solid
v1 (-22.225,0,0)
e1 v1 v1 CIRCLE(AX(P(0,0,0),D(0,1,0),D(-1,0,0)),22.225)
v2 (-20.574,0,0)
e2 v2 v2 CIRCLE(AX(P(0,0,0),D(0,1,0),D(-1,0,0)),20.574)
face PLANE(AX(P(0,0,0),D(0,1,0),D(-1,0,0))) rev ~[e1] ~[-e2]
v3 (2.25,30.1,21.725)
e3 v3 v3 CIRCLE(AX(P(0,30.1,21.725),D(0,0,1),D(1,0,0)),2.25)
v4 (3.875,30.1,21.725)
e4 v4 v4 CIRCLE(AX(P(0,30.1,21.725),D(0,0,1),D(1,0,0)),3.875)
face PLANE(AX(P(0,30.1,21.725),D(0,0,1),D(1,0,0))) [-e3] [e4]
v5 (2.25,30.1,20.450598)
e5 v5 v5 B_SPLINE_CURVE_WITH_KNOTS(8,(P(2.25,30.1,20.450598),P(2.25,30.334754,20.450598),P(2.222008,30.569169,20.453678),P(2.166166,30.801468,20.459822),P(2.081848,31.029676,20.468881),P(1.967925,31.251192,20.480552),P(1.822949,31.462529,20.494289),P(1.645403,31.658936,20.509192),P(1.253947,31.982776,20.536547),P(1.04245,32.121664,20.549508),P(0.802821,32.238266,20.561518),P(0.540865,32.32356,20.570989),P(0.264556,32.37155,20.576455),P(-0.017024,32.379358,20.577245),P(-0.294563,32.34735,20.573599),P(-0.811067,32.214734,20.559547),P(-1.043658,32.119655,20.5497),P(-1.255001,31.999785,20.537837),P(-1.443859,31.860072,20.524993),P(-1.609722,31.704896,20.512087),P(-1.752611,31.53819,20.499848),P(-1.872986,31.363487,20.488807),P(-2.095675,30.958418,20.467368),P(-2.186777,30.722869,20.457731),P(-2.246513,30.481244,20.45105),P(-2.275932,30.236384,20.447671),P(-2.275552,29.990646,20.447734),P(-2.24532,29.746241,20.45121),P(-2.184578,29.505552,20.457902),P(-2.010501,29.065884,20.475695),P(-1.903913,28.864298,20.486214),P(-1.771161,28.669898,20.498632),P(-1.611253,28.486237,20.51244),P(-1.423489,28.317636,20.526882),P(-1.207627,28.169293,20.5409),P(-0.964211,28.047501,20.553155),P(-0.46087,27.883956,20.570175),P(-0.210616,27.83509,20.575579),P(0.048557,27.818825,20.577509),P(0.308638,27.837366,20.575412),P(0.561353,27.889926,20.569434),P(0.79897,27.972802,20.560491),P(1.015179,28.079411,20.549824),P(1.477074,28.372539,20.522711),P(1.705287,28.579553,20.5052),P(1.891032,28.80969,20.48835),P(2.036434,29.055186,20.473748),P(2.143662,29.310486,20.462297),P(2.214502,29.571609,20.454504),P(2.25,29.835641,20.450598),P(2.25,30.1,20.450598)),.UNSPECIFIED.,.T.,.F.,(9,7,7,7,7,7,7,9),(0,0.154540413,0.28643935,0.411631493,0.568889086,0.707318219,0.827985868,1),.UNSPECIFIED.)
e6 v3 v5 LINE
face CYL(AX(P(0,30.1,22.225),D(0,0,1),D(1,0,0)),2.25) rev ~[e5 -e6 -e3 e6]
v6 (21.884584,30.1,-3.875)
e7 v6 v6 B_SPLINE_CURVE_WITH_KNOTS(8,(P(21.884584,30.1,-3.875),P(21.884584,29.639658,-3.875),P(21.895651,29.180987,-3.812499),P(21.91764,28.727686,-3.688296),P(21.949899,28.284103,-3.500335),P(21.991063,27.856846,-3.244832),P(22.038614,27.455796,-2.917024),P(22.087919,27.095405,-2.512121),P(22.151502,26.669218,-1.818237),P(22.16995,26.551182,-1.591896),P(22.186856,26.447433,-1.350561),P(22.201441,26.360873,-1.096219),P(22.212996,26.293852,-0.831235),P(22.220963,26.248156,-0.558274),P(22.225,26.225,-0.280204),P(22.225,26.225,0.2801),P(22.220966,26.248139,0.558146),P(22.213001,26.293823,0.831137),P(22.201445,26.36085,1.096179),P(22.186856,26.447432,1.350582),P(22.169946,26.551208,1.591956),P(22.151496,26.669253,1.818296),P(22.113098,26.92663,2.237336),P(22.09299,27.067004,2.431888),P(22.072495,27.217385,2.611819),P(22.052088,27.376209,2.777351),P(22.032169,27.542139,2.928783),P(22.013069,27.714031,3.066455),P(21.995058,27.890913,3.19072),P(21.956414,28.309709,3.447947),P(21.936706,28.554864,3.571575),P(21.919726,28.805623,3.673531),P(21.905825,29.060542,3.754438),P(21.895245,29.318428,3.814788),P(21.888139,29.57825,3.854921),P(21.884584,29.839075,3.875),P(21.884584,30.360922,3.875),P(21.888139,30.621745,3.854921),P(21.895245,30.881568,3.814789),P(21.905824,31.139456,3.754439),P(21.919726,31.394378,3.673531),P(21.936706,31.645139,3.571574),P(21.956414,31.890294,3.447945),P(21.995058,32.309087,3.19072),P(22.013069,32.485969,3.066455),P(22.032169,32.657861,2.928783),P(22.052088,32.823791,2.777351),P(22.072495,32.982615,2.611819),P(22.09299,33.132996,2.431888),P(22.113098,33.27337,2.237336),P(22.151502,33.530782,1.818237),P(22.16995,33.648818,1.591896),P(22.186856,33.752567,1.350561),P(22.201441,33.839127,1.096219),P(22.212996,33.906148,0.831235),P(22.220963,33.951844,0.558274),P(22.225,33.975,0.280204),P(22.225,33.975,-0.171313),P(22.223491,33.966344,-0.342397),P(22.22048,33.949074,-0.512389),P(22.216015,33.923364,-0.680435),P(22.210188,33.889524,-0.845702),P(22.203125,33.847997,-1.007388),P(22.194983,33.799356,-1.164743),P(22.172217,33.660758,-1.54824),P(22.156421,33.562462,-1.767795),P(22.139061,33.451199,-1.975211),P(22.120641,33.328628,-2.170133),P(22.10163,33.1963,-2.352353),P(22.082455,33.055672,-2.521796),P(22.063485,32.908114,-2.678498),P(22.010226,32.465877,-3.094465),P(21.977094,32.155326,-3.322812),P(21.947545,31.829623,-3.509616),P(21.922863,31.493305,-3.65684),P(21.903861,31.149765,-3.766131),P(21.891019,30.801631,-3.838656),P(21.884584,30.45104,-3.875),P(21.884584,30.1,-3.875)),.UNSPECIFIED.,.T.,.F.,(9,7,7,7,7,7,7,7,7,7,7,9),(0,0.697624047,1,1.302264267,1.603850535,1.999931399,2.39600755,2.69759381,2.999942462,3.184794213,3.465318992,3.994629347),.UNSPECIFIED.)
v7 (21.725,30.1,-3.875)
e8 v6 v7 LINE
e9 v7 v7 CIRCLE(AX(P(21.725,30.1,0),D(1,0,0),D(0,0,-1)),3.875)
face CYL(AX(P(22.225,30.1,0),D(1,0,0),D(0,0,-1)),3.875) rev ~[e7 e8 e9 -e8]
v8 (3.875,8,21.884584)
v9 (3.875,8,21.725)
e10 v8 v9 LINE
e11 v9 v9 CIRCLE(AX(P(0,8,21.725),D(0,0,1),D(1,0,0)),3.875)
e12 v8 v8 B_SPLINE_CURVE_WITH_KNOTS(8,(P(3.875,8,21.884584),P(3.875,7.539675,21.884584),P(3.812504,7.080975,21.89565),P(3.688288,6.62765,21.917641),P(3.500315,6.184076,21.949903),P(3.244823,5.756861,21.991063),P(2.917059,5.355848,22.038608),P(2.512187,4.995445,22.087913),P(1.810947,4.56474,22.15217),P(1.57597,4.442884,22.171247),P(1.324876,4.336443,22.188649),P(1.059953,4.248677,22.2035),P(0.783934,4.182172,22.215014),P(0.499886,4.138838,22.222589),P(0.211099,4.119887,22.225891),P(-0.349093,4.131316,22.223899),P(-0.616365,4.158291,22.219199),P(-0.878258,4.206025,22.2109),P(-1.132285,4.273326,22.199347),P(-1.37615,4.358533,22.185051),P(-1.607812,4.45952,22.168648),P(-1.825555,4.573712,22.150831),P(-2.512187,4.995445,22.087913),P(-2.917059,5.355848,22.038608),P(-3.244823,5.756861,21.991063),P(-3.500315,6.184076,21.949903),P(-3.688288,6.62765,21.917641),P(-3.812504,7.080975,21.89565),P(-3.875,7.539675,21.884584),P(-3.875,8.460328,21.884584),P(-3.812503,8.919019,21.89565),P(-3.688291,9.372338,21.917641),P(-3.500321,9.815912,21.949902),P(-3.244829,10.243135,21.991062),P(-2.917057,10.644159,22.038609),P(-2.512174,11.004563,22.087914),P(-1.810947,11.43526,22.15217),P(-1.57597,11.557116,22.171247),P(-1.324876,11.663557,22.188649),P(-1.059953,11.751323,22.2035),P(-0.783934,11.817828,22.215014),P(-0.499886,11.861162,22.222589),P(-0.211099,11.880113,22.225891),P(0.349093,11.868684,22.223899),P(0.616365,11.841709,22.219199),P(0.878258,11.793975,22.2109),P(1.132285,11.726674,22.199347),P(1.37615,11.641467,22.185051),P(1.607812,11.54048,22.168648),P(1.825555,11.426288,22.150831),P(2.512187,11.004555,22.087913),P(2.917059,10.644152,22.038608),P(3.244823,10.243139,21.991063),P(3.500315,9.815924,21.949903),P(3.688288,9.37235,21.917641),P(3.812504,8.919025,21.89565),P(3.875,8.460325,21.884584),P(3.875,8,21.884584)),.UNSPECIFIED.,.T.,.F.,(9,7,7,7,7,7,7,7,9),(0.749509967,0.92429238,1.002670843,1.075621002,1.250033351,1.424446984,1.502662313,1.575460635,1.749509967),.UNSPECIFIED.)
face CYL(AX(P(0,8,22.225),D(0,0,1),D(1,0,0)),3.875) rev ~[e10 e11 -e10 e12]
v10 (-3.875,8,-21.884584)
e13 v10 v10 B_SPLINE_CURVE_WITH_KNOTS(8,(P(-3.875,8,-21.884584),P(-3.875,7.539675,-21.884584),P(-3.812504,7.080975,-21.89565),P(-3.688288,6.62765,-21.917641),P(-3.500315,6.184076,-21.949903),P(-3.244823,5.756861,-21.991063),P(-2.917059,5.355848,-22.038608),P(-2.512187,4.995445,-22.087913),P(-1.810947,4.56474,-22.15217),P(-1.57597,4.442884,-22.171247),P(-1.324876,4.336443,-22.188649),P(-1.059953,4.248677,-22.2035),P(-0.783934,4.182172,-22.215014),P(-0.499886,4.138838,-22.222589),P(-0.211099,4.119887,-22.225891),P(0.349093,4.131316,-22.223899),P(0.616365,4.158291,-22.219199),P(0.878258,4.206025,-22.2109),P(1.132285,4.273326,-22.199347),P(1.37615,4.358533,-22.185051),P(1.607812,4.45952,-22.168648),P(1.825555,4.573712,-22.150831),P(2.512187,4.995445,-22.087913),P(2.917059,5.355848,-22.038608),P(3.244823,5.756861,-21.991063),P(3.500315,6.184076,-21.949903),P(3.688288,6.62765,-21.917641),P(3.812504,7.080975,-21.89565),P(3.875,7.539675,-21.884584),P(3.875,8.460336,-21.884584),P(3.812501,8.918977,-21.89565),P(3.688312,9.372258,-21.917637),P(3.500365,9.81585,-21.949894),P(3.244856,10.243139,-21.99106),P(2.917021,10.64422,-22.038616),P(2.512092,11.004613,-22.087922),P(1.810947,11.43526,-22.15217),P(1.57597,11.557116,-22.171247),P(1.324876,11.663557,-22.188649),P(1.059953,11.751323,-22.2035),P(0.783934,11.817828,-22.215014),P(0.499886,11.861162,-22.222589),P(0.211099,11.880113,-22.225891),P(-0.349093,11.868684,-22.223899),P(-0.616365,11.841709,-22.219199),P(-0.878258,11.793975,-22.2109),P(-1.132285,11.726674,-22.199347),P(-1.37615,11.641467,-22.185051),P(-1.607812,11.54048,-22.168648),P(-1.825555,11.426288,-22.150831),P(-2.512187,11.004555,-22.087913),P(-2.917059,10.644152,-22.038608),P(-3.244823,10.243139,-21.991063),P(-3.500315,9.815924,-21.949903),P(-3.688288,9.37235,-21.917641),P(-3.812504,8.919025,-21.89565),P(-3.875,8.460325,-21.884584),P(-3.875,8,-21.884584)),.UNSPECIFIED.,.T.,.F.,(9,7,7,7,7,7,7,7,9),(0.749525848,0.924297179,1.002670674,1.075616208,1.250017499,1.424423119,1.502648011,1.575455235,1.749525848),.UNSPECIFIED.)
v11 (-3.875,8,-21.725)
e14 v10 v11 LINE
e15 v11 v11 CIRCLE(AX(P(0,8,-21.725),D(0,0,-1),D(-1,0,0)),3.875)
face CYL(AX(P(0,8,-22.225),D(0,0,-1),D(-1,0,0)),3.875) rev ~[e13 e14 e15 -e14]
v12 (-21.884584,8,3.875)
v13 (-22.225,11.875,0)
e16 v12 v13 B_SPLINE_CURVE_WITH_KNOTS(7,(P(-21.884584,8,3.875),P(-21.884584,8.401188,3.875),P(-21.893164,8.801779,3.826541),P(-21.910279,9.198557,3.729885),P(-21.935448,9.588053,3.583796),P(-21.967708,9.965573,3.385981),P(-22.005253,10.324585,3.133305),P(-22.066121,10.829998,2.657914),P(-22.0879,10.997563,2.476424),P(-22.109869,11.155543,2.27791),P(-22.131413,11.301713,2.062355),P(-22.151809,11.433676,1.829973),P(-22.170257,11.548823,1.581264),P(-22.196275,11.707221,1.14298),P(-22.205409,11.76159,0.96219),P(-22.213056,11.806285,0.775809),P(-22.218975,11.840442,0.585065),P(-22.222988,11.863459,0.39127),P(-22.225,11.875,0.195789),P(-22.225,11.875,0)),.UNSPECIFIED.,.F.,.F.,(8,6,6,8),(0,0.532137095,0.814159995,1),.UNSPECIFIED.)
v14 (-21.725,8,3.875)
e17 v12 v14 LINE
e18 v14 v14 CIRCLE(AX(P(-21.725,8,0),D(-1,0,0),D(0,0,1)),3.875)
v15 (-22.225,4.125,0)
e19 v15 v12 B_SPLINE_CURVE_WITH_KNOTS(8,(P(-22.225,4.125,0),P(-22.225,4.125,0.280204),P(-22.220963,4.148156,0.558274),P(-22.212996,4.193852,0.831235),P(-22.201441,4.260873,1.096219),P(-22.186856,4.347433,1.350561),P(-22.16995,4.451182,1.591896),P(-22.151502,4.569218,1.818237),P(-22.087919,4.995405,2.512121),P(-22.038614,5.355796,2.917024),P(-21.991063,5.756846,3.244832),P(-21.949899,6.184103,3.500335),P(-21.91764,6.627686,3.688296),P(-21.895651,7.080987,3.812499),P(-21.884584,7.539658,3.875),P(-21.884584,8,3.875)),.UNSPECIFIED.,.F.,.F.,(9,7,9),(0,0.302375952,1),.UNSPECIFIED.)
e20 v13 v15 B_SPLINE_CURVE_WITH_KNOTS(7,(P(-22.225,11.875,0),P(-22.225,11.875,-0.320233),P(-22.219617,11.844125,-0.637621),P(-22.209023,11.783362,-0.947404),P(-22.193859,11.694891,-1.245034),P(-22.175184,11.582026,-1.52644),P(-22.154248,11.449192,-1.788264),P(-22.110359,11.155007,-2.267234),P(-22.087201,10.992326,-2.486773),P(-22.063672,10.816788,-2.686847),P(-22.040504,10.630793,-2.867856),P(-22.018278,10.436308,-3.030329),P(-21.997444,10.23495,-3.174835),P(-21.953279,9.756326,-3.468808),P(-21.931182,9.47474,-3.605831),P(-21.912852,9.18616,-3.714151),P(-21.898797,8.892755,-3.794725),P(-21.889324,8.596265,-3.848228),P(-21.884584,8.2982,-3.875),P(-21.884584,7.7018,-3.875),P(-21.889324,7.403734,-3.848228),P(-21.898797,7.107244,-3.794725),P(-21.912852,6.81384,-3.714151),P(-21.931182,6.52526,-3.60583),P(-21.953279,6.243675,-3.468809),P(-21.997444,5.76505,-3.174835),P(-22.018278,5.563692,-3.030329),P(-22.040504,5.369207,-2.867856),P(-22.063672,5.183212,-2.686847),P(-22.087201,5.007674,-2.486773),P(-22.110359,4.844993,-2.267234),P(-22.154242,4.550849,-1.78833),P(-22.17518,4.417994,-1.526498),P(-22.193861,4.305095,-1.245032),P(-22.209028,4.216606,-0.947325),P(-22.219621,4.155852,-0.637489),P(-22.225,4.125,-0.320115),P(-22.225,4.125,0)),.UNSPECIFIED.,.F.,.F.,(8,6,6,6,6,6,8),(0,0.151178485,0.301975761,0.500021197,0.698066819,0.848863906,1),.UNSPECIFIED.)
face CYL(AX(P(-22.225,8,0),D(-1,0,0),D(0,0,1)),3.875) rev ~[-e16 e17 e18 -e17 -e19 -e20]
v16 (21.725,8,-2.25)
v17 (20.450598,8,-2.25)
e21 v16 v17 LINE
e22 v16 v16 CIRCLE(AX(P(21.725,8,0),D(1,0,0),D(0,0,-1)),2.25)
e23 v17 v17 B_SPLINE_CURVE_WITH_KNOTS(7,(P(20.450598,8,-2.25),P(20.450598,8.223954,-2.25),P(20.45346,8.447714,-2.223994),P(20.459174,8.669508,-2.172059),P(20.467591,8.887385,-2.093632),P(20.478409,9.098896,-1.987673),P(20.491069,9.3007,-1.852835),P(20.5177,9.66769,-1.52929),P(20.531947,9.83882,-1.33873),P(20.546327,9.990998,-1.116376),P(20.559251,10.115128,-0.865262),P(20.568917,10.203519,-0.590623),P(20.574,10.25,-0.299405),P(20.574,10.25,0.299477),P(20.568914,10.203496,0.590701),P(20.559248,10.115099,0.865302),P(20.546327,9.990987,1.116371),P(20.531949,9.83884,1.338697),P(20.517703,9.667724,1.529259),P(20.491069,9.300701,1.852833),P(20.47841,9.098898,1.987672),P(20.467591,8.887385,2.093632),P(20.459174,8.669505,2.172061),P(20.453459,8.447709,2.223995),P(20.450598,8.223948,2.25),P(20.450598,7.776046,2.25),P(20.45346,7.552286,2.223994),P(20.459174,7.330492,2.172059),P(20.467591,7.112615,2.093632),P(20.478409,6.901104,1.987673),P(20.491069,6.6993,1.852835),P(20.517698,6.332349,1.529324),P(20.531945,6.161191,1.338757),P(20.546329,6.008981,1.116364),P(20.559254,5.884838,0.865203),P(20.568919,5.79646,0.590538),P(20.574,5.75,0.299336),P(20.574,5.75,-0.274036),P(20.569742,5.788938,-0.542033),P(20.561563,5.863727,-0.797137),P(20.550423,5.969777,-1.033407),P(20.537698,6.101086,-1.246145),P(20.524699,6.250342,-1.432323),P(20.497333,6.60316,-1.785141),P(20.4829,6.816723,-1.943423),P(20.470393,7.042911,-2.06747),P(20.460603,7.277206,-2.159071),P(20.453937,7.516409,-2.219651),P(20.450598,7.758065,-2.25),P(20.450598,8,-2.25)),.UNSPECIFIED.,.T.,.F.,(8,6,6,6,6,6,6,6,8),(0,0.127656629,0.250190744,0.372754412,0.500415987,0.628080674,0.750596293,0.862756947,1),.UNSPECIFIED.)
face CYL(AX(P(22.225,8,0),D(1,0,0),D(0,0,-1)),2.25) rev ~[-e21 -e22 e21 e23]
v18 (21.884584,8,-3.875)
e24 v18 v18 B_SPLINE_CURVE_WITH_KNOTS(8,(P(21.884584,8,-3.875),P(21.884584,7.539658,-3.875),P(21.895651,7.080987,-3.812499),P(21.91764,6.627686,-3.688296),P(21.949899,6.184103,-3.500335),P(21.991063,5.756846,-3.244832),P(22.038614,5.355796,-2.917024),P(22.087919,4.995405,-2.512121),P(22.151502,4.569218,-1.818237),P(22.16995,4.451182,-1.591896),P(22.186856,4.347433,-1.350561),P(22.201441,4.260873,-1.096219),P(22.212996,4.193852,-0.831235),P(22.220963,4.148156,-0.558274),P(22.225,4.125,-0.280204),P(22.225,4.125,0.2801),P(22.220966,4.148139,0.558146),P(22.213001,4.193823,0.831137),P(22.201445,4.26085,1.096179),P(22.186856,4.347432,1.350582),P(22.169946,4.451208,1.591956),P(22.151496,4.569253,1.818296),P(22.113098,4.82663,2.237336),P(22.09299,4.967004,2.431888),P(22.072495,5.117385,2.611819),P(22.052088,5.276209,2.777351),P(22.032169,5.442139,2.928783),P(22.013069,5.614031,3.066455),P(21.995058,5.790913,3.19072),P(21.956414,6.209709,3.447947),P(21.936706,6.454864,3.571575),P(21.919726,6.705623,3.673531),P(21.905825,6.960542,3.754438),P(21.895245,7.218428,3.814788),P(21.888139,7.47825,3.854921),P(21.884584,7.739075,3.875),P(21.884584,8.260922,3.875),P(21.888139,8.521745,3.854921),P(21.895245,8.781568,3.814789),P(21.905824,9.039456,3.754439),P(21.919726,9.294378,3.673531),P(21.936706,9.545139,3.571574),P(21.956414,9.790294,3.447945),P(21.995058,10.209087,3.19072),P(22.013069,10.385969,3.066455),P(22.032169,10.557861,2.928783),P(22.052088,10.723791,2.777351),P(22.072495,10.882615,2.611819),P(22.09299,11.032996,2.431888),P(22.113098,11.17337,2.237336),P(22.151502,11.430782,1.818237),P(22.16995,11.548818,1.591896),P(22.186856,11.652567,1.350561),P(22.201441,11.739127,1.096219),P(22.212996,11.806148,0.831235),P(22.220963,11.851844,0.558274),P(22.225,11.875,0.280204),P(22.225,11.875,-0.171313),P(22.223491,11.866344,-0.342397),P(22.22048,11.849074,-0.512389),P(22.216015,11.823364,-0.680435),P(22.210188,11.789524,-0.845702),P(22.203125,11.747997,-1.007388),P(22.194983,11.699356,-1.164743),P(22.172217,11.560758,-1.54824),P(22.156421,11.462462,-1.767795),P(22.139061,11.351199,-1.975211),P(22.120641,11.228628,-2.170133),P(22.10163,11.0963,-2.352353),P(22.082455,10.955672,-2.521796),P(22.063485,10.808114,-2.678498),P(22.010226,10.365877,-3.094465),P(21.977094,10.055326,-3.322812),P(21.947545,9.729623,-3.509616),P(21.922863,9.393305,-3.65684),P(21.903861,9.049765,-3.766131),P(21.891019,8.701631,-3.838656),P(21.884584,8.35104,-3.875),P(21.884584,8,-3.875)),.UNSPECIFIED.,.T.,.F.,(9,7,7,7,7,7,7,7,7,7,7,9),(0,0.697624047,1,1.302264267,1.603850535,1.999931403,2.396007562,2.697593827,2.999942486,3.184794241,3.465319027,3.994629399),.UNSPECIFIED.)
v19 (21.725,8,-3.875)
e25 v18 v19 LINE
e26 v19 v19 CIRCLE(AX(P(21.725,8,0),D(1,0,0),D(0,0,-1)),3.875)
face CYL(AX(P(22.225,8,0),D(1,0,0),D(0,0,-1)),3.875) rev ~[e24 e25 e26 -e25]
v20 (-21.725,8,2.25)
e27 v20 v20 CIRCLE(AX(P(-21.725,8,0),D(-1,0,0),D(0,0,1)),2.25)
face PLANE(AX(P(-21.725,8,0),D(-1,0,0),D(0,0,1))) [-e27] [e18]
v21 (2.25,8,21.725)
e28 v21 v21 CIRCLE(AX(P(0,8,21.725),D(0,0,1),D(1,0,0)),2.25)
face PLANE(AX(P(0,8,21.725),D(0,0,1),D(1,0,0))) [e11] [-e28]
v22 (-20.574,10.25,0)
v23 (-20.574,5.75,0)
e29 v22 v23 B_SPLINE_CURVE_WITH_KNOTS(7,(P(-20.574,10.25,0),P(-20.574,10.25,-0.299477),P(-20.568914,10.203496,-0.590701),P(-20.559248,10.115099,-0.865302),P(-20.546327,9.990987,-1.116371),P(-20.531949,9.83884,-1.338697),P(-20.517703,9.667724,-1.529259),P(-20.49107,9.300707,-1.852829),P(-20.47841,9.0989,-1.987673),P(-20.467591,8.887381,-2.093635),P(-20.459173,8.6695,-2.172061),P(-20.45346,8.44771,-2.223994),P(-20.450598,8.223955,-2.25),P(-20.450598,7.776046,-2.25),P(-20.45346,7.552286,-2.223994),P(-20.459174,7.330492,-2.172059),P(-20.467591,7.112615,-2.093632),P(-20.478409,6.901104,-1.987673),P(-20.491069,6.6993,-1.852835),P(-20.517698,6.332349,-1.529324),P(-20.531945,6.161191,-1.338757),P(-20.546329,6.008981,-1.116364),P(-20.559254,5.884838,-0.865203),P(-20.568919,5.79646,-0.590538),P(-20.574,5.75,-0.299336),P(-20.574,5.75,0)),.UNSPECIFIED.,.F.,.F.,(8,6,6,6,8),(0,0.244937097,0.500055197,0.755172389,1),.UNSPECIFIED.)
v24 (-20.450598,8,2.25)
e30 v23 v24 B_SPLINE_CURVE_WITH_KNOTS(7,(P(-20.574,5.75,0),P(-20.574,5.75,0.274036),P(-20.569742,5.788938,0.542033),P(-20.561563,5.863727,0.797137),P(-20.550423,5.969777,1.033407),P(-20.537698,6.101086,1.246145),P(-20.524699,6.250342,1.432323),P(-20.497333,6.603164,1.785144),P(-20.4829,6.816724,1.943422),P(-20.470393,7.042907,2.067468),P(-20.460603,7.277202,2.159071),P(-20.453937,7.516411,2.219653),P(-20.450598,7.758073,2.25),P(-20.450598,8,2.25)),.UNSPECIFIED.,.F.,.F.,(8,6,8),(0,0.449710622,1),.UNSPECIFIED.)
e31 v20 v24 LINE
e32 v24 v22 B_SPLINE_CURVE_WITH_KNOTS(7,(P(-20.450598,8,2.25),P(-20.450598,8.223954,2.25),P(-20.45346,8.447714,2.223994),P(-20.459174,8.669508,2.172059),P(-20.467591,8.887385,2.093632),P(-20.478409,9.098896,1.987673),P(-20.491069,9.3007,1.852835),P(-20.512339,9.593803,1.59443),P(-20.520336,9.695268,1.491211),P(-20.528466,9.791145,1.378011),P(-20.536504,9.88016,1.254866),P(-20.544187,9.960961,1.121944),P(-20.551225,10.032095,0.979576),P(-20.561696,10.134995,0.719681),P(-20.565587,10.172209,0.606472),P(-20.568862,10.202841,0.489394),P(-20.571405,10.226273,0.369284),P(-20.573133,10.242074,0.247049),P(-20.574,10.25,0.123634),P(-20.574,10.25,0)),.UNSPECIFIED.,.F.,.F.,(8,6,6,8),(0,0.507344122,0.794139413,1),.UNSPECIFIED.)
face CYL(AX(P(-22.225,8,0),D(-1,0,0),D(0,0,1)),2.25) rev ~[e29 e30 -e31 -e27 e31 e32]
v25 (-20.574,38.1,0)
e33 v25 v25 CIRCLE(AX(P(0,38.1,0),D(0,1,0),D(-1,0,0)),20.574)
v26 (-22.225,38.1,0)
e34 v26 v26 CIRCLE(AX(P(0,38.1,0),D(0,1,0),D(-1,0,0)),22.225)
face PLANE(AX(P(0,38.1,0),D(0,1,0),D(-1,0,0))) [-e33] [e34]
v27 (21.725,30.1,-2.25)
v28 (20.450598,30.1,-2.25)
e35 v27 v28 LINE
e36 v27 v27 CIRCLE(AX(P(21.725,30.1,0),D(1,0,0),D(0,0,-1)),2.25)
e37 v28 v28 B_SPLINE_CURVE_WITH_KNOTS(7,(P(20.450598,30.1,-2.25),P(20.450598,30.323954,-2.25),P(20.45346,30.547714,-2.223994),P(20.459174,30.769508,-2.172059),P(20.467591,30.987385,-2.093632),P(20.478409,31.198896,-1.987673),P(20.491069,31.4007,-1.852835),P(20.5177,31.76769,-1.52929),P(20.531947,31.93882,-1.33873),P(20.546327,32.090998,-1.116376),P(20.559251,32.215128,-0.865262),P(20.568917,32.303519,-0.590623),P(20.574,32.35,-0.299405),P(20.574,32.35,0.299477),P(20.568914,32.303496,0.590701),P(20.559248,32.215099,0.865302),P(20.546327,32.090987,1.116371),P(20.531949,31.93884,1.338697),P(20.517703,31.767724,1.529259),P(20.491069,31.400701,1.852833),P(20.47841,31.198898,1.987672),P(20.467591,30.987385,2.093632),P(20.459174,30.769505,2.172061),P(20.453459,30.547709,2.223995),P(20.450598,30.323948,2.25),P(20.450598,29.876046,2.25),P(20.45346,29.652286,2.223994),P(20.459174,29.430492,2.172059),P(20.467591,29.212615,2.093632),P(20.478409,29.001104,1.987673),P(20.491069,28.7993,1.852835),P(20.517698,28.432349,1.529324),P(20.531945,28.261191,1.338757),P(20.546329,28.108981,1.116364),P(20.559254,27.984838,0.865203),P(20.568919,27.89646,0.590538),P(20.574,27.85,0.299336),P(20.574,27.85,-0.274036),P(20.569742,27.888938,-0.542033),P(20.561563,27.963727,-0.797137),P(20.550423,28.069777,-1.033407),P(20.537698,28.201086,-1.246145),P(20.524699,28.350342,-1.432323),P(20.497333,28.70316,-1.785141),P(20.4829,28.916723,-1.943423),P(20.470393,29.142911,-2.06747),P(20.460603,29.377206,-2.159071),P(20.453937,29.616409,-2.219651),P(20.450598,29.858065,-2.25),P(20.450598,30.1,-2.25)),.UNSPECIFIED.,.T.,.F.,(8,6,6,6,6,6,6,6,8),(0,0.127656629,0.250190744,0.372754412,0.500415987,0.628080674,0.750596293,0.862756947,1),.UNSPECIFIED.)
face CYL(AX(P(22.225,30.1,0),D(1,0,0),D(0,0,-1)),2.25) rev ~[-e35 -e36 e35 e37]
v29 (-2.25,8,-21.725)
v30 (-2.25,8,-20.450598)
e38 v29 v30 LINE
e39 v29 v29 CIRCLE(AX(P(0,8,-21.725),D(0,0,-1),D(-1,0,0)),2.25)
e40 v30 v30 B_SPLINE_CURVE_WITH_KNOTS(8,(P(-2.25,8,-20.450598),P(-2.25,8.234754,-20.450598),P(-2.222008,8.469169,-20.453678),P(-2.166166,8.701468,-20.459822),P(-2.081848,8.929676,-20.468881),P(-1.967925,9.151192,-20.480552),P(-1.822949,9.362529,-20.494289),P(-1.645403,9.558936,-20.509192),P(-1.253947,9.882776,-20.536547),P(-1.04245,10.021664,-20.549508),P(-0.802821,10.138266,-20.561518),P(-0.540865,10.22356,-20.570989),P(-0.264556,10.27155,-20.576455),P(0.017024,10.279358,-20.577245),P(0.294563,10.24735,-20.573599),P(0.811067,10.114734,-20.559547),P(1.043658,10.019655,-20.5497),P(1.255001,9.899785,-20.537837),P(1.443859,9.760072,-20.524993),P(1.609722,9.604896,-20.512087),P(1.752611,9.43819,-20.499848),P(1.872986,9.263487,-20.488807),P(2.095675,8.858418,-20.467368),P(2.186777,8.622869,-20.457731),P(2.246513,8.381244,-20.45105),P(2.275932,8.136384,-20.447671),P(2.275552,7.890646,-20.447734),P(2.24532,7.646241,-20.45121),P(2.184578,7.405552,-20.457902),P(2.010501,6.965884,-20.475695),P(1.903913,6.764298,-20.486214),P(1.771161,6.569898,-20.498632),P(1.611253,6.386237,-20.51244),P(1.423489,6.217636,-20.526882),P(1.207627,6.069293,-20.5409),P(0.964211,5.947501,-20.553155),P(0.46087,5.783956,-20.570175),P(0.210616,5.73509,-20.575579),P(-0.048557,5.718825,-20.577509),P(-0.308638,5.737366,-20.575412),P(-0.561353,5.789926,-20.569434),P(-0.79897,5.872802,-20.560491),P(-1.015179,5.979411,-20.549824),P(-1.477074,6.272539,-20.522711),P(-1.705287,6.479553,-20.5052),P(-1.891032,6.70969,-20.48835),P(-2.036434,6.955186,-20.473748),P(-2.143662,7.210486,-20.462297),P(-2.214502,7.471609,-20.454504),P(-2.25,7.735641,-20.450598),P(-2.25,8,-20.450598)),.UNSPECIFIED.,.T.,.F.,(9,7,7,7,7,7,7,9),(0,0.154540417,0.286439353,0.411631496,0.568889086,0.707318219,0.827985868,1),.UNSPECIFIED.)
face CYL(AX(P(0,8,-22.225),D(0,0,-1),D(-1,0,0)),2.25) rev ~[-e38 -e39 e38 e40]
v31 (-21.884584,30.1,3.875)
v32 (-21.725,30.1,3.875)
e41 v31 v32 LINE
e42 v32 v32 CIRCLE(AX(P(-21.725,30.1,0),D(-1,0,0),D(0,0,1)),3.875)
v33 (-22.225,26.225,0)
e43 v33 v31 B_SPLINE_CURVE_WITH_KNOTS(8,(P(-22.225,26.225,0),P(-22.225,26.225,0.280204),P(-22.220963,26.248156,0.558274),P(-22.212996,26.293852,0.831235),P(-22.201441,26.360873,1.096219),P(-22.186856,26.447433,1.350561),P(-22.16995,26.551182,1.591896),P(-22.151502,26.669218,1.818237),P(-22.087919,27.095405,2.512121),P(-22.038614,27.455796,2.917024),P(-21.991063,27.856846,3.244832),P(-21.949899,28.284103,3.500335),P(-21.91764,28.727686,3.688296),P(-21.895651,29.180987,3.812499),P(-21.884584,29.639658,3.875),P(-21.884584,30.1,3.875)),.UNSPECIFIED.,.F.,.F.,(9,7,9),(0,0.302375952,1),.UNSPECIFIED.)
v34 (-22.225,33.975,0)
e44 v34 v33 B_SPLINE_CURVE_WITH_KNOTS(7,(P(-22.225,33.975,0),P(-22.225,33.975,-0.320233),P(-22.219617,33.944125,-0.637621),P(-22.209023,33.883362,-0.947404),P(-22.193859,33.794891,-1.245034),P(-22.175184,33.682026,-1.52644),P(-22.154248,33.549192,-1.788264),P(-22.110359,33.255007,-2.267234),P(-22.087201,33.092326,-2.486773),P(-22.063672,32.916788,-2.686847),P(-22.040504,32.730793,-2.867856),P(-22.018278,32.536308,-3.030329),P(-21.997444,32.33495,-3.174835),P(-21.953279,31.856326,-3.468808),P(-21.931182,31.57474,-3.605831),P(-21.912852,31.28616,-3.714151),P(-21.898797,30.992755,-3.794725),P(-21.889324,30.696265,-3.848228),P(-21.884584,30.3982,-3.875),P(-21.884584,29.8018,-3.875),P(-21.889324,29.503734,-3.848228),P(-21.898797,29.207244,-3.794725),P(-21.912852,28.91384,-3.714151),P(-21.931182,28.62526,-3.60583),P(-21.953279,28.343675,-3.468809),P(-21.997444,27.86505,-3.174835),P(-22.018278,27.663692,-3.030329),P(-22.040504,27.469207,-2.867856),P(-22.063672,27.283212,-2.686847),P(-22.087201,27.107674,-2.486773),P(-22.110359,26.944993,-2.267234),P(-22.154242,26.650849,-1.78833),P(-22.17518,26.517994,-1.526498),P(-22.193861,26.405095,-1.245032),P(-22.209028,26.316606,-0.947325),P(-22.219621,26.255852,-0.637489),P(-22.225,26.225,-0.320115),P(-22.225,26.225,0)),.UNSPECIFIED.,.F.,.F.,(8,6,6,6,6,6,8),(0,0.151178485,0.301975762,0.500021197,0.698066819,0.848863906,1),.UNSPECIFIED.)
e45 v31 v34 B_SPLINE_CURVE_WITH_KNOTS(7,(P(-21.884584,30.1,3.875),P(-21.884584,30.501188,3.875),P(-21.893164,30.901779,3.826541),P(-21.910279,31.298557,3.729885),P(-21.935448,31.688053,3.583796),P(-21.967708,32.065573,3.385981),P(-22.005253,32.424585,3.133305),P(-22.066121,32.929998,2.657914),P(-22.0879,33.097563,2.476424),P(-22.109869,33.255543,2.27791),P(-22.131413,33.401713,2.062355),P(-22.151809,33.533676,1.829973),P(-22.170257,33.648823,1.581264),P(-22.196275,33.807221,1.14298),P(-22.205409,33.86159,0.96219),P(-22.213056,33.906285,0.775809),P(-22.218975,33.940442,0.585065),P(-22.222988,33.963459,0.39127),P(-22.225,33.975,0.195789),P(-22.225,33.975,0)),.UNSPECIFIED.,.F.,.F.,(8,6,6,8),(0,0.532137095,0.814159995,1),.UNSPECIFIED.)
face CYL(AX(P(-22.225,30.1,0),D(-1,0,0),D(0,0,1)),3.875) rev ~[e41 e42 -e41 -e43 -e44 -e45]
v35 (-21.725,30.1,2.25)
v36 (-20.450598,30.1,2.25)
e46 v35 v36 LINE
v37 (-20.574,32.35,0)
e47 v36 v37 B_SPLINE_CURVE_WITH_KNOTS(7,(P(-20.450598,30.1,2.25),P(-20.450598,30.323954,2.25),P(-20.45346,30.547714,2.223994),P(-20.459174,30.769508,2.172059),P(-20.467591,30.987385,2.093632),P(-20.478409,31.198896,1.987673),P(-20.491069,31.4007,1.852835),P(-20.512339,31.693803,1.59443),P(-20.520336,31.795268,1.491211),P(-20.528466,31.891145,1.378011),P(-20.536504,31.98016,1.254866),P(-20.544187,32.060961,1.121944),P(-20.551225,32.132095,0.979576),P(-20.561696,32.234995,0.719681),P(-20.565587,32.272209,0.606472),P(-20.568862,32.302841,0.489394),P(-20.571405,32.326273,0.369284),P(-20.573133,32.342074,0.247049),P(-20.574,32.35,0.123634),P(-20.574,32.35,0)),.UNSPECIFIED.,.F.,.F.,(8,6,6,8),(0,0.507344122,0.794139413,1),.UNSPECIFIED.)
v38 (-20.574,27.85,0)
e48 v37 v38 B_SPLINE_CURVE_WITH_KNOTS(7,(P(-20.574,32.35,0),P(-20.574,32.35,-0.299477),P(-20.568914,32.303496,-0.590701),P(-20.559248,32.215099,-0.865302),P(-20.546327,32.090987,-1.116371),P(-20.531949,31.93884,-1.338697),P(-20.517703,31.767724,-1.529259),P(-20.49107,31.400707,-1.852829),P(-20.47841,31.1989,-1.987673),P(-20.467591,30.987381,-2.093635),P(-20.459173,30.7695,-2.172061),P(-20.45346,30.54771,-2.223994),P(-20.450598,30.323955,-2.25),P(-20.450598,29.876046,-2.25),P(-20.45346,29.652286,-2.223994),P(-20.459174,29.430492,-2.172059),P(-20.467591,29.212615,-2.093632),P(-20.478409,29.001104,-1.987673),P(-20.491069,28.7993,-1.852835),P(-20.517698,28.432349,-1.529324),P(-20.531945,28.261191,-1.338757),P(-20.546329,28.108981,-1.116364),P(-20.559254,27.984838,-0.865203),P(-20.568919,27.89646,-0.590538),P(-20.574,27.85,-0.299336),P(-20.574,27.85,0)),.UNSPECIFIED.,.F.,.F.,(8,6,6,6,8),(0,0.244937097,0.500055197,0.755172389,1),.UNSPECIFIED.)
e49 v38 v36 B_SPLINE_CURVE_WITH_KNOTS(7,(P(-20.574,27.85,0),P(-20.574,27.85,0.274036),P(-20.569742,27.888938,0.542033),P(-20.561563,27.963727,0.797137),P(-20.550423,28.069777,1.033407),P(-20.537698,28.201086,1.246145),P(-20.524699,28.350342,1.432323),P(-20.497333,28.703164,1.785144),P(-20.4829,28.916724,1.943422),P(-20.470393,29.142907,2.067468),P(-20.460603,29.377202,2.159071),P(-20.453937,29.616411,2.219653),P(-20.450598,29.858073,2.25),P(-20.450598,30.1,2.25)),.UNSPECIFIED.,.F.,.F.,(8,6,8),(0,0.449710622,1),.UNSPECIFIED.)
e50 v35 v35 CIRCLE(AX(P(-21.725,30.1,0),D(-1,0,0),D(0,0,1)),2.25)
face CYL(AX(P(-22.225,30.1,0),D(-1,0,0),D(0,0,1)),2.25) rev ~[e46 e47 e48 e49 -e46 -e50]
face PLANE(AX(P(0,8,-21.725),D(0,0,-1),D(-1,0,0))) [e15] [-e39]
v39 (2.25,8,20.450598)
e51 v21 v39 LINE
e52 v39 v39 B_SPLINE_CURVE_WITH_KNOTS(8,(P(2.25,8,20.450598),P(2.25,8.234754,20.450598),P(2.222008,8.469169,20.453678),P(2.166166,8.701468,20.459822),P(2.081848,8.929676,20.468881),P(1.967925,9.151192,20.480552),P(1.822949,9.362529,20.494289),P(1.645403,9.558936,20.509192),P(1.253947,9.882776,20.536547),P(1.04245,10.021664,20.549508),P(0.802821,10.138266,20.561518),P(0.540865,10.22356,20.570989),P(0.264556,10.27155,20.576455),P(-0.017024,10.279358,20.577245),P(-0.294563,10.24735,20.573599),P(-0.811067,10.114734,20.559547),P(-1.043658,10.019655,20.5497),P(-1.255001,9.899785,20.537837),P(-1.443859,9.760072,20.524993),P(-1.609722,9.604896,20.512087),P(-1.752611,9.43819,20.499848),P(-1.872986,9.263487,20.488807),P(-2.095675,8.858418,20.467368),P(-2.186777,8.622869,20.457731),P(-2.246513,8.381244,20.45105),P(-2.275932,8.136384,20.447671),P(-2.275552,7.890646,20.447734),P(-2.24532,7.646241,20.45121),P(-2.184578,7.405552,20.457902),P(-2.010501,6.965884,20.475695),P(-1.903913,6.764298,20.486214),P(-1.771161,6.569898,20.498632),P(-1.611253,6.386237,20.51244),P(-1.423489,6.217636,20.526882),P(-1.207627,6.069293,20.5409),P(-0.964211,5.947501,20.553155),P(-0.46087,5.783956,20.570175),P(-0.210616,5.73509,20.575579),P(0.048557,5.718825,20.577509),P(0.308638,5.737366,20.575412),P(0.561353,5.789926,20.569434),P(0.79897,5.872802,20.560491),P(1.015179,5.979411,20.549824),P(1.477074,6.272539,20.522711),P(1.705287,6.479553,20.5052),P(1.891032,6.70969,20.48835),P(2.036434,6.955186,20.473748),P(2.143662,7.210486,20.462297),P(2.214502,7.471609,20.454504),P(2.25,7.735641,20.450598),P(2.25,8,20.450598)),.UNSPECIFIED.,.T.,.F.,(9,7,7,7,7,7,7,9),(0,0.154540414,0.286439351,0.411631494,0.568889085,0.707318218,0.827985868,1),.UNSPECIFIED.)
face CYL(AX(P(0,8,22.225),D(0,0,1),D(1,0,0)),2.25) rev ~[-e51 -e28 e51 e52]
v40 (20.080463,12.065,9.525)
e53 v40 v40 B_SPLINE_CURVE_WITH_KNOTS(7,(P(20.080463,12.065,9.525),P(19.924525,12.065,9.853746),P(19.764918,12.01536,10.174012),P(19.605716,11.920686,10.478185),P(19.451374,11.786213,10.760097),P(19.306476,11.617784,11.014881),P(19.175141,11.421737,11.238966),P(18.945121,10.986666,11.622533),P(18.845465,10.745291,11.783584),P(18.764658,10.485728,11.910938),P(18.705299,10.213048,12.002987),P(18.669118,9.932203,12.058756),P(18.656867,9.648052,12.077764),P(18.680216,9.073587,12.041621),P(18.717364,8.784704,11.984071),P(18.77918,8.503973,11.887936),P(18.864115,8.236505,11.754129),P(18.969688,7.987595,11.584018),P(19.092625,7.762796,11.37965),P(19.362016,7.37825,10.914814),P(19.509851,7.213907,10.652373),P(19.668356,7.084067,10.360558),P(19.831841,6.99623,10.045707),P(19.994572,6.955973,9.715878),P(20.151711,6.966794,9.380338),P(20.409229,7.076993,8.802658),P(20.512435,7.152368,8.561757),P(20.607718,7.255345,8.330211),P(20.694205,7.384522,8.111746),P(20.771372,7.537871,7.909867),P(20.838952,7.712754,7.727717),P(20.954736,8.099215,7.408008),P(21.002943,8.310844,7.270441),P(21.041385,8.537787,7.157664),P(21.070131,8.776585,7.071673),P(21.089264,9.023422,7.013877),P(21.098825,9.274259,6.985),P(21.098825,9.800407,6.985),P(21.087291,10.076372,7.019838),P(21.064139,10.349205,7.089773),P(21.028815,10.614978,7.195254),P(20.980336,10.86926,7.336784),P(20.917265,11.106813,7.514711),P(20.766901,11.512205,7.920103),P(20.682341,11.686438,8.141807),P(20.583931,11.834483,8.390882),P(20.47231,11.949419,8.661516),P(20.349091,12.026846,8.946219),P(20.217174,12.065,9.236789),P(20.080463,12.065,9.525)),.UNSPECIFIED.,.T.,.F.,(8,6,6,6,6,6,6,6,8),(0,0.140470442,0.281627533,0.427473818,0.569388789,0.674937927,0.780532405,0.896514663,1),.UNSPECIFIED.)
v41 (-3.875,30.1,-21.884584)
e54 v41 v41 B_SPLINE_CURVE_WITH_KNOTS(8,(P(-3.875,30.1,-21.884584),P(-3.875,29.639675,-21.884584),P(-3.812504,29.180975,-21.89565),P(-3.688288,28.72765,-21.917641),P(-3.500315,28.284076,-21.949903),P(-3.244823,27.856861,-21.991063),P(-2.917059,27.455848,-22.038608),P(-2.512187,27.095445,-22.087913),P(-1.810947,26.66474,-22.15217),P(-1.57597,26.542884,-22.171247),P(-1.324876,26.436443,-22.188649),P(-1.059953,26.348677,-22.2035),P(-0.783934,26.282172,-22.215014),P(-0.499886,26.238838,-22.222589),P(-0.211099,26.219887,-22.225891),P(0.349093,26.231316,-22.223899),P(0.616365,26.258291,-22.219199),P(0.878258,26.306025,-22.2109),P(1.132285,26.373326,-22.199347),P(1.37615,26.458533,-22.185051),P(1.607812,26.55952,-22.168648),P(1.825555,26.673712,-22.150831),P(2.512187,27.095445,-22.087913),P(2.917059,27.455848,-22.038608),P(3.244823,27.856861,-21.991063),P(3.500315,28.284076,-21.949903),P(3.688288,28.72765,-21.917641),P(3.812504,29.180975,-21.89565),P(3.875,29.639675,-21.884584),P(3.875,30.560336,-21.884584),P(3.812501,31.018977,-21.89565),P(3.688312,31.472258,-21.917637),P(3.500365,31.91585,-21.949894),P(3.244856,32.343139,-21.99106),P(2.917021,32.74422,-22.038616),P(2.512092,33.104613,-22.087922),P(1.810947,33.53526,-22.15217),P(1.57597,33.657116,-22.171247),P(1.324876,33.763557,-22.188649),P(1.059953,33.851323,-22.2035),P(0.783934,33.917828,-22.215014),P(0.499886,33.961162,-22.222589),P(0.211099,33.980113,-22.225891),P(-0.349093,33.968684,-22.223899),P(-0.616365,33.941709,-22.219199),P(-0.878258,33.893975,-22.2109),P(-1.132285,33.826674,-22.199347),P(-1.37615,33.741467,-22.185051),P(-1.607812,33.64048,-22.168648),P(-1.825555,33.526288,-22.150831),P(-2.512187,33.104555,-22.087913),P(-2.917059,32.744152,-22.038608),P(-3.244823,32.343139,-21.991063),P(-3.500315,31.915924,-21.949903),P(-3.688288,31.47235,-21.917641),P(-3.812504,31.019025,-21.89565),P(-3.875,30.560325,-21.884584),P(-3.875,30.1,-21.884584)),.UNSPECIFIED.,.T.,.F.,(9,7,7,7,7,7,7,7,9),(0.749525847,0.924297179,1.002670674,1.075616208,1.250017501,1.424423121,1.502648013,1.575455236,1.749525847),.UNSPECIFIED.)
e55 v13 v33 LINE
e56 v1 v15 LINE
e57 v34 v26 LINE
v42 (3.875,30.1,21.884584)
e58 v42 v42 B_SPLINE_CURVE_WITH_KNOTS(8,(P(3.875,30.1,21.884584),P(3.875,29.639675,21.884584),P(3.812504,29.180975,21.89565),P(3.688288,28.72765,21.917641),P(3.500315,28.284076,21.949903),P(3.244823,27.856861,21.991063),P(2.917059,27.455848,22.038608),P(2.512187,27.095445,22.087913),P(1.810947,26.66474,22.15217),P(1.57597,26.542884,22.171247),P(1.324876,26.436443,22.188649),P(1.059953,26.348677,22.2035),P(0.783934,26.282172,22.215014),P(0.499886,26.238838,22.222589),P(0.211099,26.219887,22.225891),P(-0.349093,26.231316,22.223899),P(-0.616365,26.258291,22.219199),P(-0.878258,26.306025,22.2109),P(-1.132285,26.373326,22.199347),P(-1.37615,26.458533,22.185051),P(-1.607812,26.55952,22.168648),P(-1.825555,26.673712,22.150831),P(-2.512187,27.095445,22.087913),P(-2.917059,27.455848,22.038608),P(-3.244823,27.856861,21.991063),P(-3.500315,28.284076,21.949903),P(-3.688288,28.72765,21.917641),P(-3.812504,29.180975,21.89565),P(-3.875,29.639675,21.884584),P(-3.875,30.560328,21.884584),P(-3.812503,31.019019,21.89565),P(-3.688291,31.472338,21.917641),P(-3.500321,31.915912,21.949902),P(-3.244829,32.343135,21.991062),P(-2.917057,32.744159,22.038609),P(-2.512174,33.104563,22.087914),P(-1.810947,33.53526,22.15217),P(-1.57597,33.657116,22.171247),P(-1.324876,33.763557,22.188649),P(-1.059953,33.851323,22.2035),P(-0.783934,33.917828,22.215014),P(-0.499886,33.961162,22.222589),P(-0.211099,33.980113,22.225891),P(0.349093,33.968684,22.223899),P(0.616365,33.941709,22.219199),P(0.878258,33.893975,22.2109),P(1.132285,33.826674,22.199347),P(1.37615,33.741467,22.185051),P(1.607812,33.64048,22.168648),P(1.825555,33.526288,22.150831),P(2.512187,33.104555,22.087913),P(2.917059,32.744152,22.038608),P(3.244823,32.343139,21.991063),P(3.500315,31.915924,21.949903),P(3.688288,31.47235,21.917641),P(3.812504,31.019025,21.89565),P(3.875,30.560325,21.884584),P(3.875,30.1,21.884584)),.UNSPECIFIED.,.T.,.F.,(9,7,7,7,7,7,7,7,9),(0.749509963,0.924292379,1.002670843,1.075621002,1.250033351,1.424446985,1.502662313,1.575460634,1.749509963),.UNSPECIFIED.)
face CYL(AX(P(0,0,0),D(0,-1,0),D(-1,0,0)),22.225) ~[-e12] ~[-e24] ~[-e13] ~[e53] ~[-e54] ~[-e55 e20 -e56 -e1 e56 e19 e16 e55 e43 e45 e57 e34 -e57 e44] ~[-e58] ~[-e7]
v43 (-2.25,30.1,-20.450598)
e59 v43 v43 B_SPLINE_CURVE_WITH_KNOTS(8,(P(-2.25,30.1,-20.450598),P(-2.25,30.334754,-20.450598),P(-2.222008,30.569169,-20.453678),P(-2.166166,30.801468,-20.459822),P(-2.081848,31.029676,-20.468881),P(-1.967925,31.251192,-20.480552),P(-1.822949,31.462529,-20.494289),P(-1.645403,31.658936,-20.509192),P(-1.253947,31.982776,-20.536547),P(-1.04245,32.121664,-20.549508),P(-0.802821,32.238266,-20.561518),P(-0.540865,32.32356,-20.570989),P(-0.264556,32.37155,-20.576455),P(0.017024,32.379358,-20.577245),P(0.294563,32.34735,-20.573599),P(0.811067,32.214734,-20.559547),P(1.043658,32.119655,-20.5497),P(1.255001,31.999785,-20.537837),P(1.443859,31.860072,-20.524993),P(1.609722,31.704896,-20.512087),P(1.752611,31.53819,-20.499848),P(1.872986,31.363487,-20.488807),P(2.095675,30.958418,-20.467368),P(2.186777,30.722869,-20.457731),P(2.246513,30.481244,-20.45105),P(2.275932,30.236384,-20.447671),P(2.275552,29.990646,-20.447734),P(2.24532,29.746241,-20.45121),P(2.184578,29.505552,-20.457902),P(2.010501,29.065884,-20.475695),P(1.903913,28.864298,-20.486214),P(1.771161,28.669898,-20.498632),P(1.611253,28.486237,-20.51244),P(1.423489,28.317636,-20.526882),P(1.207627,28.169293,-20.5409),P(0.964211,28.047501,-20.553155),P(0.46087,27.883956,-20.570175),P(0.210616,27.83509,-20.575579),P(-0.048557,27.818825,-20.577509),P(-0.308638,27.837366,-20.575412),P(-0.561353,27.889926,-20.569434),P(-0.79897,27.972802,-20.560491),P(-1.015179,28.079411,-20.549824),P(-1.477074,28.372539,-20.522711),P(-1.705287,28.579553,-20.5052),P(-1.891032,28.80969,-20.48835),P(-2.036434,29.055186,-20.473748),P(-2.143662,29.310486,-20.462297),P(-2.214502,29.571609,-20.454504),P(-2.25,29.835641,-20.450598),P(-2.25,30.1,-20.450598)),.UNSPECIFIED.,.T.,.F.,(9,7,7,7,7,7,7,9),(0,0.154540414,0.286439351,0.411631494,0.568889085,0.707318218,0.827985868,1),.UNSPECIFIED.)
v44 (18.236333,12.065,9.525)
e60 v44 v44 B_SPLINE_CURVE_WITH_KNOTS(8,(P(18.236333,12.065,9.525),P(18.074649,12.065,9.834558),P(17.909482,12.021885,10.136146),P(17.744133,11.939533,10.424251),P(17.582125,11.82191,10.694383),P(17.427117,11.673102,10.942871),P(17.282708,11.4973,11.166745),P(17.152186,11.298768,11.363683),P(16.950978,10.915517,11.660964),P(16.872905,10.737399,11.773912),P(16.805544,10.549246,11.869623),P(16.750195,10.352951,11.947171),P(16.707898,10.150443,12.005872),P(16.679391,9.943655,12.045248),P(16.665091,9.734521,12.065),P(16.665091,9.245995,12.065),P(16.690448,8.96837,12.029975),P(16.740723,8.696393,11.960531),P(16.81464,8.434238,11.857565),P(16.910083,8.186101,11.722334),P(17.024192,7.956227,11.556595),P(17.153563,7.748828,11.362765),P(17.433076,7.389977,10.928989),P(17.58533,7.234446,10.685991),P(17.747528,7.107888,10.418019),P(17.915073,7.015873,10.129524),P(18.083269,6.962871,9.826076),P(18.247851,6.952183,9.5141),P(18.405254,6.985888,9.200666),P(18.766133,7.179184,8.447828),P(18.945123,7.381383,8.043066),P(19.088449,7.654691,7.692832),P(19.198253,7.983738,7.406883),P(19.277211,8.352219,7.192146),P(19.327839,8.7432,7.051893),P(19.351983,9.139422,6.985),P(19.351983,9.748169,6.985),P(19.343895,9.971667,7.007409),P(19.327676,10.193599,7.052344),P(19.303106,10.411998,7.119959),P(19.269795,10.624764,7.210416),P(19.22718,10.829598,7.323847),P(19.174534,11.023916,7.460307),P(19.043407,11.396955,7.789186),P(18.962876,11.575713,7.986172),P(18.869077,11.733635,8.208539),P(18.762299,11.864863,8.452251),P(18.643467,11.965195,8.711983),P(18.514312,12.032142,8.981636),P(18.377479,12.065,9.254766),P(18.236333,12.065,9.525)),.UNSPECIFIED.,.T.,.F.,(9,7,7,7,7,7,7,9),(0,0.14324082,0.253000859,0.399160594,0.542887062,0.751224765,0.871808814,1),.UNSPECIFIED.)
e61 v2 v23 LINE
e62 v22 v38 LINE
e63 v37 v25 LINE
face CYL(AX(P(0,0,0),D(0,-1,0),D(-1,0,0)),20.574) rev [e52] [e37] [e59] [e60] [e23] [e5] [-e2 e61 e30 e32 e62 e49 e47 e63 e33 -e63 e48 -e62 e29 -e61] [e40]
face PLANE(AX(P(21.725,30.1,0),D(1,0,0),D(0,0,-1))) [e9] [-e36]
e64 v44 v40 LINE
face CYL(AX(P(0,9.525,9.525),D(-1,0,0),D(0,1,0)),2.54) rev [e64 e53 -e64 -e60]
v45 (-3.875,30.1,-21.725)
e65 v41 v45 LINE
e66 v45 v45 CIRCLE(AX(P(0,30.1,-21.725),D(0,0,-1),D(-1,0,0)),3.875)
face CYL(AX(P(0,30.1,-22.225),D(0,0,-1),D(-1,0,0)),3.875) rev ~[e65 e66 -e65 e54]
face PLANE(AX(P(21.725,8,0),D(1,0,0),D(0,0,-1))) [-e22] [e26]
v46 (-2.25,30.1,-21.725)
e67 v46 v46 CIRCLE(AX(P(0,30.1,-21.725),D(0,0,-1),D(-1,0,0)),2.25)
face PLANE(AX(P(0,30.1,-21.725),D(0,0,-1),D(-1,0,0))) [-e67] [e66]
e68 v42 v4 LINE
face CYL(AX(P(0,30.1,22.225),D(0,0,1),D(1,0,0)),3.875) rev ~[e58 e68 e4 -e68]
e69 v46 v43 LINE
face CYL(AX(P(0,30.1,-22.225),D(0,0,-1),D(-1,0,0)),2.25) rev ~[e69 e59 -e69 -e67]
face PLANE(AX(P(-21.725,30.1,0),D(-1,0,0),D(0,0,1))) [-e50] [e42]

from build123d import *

# Parameters (mm, degrees)
SKETCH1_R                 = 22.225
SKETCH1_R_2               = 20.574
BOSS_EXTRUDE1_DEPTH       = 38.1
SKETCH2_R                 = 2.54
CUT_EXTRUDE1_DEPTH        = 50.8
SKETCH3_R                 = 3.875
SKETCH3_R_2               = 2.25
CUT_EXTRUDE2_DEPTH        = 0.5
SKETCH3_2_R               = 2.25
CUT_EXTRUDE3_DEPTH        = 16.17
CIRPATTERN1_COUNT         = 4
MIRROR1_COPY_1_SKETCH_R   = 3.875
MIRROR1_COPY_1_SKETCH_R_2 = 2.25
MIRROR1_COPY_1_DEPTH      = 0.5
MIRROR1_COPY_2_SKETCH_R   = 3.875
MIRROR1_COPY_2_SKETCH_R_2 = 2.25
MIRROR1_COPY_2_DEPTH      = 0.5
MIRROR1_COPY_3_SKETCH_R   = 3.875
MIRROR1_COPY_3_SKETCH_R_2 = 2.25
MIRROR1_COPY_3_DEPTH      = 0.5
MIRROR1_COPY_4_SKETCH_R   = 2.25
MIRROR1_COPY_4_DEPTH      = 16.17
MIRROR1_COPY_5_SKETCH_R   = 2.25
MIRROR1_COPY_5_DEPTH      = 16.17
MIRROR1_COPY_6_SKETCH_R   = 2.25
MIRROR1_COPY_6_DEPTH      = 16.17
MIRROR1_COPY_7_SKETCH_R   = 3.875
MIRROR1_COPY_7_SKETCH_R_2 = 2.25
MIRROR1_COPY_7_DEPTH      = 0.5
MIRROR1_COPY_8_SKETCH_R   = 2.25
MIRROR1_COPY_8_DEPTH      = 16.17


with BuildPart() as part:
    # Sketch1 → Boss-Extrude1 (new body)
    with BuildSketch(Plane(origin=(0, 0, 0), x_dir=(-1, 0, 0), z_dir=(0, 1, 0))):
        Circle(SKETCH1_R)
        Circle(SKETCH1_R_2, mode=Mode.SUBTRACT)
    extrude(amount=BOSS_EXTRUDE1_DEPTH)

    # Sketch2 → Cut-Extrude1 (cut)
    with BuildSketch(Plane.YZ):
        with Locations((9.525, 9.525)):
            Circle(SKETCH2_R)
    extrude(amount=CUT_EXTRUDE1_DEPTH, mode=Mode.SUBTRACT)

    # Sketch3 → Cut-Extrude2 (cut)
    with BuildSketch(Plane.XY.offset(22.225)):
        with Locations((0, 30.1)):
            Circle(SKETCH3_R)
        with Locations((0, 30.1)):
            Circle(SKETCH3_R_2, mode=Mode.SUBTRACT)
    cut_extrude2 = extrude(amount=-CUT_EXTRUDE2_DEPTH, mode=Mode.SUBTRACT)

    # Sketch3<2> → Cut-Extrude3 (cut)
    with BuildSketch(Plane.XY.offset(22.225)):
        with Locations((0, 30.1)):
            Circle(SKETCH3_2_R)
    cut_extrude3 = extrude(amount=-CUT_EXTRUDE3_DEPTH, mode=Mode.SUBTRACT)

    # CirPattern1: Cut-Extrude2, Cut-Extrude3 ×4 about axis
    cirpattern1_axis = Axis((0, 38.1, 0), (0, -1, 0))
    add([cut_extrude2.rotate(cirpattern1_axis, i * 360 / CIRPATTERN1_COUNT) for i in range(1, CIRPATTERN1_COUNT)], mode=Mode.SUBTRACT)
    add([cut_extrude3.rotate(cirpattern1_axis, i * 360 / CIRPATTERN1_COUNT) for i in range(1, CIRPATTERN1_COUNT)], mode=Mode.SUBTRACT)

    # Mirror1 copy 1 sketch → Mirror1 copy 1 (cut)
    with BuildSketch(Plane(origin=(-22.225, 38.1, 0), x_dir=(0, 0, 1), z_dir=(-1, 0, 0))):
        with Locations((0, -30.1)):
            Circle(MIRROR1_COPY_1_SKETCH_R)
        with Locations((0, -30.1)):
            Circle(MIRROR1_COPY_1_SKETCH_R_2, mode=Mode.SUBTRACT)
    extrude(amount=-MIRROR1_COPY_1_DEPTH, mode=Mode.SUBTRACT)

    # Mirror1 copy 2 sketch → Mirror1 copy 2 (cut)
    with BuildSketch(Plane(origin=(0, 38.1, -22.225), x_dir=(-1, 0, 0), z_dir=(0, 0, -1))):
        with Locations((0, -30.1)):
            Circle(MIRROR1_COPY_2_SKETCH_R)
        with Locations((0, -30.1)):
            Circle(MIRROR1_COPY_2_SKETCH_R_2, mode=Mode.SUBTRACT)
    extrude(amount=-MIRROR1_COPY_2_DEPTH, mode=Mode.SUBTRACT)

    # Mirror1 copy 3 sketch → Mirror1 copy 3 (cut)
    with BuildSketch(Plane(origin=(22.225, 38.1, 0), x_dir=(0, 0, -1), z_dir=(1, 0, 0))):
        with Locations((0, -30.1)):
            Circle(MIRROR1_COPY_3_SKETCH_R)
        with Locations((0, -30.1)):
            Circle(MIRROR1_COPY_3_SKETCH_R_2, mode=Mode.SUBTRACT)
    extrude(amount=-MIRROR1_COPY_3_DEPTH, mode=Mode.SUBTRACT)

    # Mirror1 copy 4 sketch → Mirror1 copy 4 (cut)
    with BuildSketch(Plane(origin=(-22.225, 38.1, 0), x_dir=(0, 0, 1), z_dir=(-1, 0, 0))):
        with Locations((0, -30.1)):
            Circle(MIRROR1_COPY_4_SKETCH_R)
    extrude(amount=-MIRROR1_COPY_4_DEPTH, mode=Mode.SUBTRACT)

    # Mirror1 copy 5 sketch → Mirror1 copy 5 (cut)
    with BuildSketch(Plane(origin=(0, 38.1, -22.225), x_dir=(-1, 0, 0), z_dir=(0, 0, -1))):
        with Locations((0, -30.1)):
            Circle(MIRROR1_COPY_5_SKETCH_R)
    extrude(amount=-MIRROR1_COPY_5_DEPTH, mode=Mode.SUBTRACT)

    # Mirror1 copy 6 sketch → Mirror1 copy 6 (cut)
    with BuildSketch(Plane(origin=(22.225, 38.1, 0), x_dir=(0, 0, -1), z_dir=(1, 0, 0))):
        with Locations((0, -30.1)):
            Circle(MIRROR1_COPY_6_SKETCH_R)
    extrude(amount=-MIRROR1_COPY_6_DEPTH, mode=Mode.SUBTRACT)

    # Mirror1 copy 7 sketch → Mirror1 copy 7 (cut)
    with BuildSketch(Plane(origin=(0, 38.1, 22.225), x_dir=(1, 0, 0), z_dir=(0, 0, 1))):
        with Locations((0, -30.1)):
            Circle(MIRROR1_COPY_7_SKETCH_R)
        with Locations((0, -30.1)):
            Circle(MIRROR1_COPY_7_SKETCH_R_2, mode=Mode.SUBTRACT)
    extrude(amount=-MIRROR1_COPY_7_DEPTH, mode=Mode.SUBTRACT)

    # Mirror1 copy 8 sketch → Mirror1 copy 8 (cut)
    with BuildSketch(Plane(origin=(0, 38.1, 22.225), x_dir=(1, 0, 0), z_dir=(0, 0, 1))):
        with Locations((0, -30.1)):
            Circle(MIRROR1_COPY_8_SKETCH_R)
    extrude(amount=-MIRROR1_COPY_8_DEPTH, mode=Mode.SUBTRACT)


solid = part.part
